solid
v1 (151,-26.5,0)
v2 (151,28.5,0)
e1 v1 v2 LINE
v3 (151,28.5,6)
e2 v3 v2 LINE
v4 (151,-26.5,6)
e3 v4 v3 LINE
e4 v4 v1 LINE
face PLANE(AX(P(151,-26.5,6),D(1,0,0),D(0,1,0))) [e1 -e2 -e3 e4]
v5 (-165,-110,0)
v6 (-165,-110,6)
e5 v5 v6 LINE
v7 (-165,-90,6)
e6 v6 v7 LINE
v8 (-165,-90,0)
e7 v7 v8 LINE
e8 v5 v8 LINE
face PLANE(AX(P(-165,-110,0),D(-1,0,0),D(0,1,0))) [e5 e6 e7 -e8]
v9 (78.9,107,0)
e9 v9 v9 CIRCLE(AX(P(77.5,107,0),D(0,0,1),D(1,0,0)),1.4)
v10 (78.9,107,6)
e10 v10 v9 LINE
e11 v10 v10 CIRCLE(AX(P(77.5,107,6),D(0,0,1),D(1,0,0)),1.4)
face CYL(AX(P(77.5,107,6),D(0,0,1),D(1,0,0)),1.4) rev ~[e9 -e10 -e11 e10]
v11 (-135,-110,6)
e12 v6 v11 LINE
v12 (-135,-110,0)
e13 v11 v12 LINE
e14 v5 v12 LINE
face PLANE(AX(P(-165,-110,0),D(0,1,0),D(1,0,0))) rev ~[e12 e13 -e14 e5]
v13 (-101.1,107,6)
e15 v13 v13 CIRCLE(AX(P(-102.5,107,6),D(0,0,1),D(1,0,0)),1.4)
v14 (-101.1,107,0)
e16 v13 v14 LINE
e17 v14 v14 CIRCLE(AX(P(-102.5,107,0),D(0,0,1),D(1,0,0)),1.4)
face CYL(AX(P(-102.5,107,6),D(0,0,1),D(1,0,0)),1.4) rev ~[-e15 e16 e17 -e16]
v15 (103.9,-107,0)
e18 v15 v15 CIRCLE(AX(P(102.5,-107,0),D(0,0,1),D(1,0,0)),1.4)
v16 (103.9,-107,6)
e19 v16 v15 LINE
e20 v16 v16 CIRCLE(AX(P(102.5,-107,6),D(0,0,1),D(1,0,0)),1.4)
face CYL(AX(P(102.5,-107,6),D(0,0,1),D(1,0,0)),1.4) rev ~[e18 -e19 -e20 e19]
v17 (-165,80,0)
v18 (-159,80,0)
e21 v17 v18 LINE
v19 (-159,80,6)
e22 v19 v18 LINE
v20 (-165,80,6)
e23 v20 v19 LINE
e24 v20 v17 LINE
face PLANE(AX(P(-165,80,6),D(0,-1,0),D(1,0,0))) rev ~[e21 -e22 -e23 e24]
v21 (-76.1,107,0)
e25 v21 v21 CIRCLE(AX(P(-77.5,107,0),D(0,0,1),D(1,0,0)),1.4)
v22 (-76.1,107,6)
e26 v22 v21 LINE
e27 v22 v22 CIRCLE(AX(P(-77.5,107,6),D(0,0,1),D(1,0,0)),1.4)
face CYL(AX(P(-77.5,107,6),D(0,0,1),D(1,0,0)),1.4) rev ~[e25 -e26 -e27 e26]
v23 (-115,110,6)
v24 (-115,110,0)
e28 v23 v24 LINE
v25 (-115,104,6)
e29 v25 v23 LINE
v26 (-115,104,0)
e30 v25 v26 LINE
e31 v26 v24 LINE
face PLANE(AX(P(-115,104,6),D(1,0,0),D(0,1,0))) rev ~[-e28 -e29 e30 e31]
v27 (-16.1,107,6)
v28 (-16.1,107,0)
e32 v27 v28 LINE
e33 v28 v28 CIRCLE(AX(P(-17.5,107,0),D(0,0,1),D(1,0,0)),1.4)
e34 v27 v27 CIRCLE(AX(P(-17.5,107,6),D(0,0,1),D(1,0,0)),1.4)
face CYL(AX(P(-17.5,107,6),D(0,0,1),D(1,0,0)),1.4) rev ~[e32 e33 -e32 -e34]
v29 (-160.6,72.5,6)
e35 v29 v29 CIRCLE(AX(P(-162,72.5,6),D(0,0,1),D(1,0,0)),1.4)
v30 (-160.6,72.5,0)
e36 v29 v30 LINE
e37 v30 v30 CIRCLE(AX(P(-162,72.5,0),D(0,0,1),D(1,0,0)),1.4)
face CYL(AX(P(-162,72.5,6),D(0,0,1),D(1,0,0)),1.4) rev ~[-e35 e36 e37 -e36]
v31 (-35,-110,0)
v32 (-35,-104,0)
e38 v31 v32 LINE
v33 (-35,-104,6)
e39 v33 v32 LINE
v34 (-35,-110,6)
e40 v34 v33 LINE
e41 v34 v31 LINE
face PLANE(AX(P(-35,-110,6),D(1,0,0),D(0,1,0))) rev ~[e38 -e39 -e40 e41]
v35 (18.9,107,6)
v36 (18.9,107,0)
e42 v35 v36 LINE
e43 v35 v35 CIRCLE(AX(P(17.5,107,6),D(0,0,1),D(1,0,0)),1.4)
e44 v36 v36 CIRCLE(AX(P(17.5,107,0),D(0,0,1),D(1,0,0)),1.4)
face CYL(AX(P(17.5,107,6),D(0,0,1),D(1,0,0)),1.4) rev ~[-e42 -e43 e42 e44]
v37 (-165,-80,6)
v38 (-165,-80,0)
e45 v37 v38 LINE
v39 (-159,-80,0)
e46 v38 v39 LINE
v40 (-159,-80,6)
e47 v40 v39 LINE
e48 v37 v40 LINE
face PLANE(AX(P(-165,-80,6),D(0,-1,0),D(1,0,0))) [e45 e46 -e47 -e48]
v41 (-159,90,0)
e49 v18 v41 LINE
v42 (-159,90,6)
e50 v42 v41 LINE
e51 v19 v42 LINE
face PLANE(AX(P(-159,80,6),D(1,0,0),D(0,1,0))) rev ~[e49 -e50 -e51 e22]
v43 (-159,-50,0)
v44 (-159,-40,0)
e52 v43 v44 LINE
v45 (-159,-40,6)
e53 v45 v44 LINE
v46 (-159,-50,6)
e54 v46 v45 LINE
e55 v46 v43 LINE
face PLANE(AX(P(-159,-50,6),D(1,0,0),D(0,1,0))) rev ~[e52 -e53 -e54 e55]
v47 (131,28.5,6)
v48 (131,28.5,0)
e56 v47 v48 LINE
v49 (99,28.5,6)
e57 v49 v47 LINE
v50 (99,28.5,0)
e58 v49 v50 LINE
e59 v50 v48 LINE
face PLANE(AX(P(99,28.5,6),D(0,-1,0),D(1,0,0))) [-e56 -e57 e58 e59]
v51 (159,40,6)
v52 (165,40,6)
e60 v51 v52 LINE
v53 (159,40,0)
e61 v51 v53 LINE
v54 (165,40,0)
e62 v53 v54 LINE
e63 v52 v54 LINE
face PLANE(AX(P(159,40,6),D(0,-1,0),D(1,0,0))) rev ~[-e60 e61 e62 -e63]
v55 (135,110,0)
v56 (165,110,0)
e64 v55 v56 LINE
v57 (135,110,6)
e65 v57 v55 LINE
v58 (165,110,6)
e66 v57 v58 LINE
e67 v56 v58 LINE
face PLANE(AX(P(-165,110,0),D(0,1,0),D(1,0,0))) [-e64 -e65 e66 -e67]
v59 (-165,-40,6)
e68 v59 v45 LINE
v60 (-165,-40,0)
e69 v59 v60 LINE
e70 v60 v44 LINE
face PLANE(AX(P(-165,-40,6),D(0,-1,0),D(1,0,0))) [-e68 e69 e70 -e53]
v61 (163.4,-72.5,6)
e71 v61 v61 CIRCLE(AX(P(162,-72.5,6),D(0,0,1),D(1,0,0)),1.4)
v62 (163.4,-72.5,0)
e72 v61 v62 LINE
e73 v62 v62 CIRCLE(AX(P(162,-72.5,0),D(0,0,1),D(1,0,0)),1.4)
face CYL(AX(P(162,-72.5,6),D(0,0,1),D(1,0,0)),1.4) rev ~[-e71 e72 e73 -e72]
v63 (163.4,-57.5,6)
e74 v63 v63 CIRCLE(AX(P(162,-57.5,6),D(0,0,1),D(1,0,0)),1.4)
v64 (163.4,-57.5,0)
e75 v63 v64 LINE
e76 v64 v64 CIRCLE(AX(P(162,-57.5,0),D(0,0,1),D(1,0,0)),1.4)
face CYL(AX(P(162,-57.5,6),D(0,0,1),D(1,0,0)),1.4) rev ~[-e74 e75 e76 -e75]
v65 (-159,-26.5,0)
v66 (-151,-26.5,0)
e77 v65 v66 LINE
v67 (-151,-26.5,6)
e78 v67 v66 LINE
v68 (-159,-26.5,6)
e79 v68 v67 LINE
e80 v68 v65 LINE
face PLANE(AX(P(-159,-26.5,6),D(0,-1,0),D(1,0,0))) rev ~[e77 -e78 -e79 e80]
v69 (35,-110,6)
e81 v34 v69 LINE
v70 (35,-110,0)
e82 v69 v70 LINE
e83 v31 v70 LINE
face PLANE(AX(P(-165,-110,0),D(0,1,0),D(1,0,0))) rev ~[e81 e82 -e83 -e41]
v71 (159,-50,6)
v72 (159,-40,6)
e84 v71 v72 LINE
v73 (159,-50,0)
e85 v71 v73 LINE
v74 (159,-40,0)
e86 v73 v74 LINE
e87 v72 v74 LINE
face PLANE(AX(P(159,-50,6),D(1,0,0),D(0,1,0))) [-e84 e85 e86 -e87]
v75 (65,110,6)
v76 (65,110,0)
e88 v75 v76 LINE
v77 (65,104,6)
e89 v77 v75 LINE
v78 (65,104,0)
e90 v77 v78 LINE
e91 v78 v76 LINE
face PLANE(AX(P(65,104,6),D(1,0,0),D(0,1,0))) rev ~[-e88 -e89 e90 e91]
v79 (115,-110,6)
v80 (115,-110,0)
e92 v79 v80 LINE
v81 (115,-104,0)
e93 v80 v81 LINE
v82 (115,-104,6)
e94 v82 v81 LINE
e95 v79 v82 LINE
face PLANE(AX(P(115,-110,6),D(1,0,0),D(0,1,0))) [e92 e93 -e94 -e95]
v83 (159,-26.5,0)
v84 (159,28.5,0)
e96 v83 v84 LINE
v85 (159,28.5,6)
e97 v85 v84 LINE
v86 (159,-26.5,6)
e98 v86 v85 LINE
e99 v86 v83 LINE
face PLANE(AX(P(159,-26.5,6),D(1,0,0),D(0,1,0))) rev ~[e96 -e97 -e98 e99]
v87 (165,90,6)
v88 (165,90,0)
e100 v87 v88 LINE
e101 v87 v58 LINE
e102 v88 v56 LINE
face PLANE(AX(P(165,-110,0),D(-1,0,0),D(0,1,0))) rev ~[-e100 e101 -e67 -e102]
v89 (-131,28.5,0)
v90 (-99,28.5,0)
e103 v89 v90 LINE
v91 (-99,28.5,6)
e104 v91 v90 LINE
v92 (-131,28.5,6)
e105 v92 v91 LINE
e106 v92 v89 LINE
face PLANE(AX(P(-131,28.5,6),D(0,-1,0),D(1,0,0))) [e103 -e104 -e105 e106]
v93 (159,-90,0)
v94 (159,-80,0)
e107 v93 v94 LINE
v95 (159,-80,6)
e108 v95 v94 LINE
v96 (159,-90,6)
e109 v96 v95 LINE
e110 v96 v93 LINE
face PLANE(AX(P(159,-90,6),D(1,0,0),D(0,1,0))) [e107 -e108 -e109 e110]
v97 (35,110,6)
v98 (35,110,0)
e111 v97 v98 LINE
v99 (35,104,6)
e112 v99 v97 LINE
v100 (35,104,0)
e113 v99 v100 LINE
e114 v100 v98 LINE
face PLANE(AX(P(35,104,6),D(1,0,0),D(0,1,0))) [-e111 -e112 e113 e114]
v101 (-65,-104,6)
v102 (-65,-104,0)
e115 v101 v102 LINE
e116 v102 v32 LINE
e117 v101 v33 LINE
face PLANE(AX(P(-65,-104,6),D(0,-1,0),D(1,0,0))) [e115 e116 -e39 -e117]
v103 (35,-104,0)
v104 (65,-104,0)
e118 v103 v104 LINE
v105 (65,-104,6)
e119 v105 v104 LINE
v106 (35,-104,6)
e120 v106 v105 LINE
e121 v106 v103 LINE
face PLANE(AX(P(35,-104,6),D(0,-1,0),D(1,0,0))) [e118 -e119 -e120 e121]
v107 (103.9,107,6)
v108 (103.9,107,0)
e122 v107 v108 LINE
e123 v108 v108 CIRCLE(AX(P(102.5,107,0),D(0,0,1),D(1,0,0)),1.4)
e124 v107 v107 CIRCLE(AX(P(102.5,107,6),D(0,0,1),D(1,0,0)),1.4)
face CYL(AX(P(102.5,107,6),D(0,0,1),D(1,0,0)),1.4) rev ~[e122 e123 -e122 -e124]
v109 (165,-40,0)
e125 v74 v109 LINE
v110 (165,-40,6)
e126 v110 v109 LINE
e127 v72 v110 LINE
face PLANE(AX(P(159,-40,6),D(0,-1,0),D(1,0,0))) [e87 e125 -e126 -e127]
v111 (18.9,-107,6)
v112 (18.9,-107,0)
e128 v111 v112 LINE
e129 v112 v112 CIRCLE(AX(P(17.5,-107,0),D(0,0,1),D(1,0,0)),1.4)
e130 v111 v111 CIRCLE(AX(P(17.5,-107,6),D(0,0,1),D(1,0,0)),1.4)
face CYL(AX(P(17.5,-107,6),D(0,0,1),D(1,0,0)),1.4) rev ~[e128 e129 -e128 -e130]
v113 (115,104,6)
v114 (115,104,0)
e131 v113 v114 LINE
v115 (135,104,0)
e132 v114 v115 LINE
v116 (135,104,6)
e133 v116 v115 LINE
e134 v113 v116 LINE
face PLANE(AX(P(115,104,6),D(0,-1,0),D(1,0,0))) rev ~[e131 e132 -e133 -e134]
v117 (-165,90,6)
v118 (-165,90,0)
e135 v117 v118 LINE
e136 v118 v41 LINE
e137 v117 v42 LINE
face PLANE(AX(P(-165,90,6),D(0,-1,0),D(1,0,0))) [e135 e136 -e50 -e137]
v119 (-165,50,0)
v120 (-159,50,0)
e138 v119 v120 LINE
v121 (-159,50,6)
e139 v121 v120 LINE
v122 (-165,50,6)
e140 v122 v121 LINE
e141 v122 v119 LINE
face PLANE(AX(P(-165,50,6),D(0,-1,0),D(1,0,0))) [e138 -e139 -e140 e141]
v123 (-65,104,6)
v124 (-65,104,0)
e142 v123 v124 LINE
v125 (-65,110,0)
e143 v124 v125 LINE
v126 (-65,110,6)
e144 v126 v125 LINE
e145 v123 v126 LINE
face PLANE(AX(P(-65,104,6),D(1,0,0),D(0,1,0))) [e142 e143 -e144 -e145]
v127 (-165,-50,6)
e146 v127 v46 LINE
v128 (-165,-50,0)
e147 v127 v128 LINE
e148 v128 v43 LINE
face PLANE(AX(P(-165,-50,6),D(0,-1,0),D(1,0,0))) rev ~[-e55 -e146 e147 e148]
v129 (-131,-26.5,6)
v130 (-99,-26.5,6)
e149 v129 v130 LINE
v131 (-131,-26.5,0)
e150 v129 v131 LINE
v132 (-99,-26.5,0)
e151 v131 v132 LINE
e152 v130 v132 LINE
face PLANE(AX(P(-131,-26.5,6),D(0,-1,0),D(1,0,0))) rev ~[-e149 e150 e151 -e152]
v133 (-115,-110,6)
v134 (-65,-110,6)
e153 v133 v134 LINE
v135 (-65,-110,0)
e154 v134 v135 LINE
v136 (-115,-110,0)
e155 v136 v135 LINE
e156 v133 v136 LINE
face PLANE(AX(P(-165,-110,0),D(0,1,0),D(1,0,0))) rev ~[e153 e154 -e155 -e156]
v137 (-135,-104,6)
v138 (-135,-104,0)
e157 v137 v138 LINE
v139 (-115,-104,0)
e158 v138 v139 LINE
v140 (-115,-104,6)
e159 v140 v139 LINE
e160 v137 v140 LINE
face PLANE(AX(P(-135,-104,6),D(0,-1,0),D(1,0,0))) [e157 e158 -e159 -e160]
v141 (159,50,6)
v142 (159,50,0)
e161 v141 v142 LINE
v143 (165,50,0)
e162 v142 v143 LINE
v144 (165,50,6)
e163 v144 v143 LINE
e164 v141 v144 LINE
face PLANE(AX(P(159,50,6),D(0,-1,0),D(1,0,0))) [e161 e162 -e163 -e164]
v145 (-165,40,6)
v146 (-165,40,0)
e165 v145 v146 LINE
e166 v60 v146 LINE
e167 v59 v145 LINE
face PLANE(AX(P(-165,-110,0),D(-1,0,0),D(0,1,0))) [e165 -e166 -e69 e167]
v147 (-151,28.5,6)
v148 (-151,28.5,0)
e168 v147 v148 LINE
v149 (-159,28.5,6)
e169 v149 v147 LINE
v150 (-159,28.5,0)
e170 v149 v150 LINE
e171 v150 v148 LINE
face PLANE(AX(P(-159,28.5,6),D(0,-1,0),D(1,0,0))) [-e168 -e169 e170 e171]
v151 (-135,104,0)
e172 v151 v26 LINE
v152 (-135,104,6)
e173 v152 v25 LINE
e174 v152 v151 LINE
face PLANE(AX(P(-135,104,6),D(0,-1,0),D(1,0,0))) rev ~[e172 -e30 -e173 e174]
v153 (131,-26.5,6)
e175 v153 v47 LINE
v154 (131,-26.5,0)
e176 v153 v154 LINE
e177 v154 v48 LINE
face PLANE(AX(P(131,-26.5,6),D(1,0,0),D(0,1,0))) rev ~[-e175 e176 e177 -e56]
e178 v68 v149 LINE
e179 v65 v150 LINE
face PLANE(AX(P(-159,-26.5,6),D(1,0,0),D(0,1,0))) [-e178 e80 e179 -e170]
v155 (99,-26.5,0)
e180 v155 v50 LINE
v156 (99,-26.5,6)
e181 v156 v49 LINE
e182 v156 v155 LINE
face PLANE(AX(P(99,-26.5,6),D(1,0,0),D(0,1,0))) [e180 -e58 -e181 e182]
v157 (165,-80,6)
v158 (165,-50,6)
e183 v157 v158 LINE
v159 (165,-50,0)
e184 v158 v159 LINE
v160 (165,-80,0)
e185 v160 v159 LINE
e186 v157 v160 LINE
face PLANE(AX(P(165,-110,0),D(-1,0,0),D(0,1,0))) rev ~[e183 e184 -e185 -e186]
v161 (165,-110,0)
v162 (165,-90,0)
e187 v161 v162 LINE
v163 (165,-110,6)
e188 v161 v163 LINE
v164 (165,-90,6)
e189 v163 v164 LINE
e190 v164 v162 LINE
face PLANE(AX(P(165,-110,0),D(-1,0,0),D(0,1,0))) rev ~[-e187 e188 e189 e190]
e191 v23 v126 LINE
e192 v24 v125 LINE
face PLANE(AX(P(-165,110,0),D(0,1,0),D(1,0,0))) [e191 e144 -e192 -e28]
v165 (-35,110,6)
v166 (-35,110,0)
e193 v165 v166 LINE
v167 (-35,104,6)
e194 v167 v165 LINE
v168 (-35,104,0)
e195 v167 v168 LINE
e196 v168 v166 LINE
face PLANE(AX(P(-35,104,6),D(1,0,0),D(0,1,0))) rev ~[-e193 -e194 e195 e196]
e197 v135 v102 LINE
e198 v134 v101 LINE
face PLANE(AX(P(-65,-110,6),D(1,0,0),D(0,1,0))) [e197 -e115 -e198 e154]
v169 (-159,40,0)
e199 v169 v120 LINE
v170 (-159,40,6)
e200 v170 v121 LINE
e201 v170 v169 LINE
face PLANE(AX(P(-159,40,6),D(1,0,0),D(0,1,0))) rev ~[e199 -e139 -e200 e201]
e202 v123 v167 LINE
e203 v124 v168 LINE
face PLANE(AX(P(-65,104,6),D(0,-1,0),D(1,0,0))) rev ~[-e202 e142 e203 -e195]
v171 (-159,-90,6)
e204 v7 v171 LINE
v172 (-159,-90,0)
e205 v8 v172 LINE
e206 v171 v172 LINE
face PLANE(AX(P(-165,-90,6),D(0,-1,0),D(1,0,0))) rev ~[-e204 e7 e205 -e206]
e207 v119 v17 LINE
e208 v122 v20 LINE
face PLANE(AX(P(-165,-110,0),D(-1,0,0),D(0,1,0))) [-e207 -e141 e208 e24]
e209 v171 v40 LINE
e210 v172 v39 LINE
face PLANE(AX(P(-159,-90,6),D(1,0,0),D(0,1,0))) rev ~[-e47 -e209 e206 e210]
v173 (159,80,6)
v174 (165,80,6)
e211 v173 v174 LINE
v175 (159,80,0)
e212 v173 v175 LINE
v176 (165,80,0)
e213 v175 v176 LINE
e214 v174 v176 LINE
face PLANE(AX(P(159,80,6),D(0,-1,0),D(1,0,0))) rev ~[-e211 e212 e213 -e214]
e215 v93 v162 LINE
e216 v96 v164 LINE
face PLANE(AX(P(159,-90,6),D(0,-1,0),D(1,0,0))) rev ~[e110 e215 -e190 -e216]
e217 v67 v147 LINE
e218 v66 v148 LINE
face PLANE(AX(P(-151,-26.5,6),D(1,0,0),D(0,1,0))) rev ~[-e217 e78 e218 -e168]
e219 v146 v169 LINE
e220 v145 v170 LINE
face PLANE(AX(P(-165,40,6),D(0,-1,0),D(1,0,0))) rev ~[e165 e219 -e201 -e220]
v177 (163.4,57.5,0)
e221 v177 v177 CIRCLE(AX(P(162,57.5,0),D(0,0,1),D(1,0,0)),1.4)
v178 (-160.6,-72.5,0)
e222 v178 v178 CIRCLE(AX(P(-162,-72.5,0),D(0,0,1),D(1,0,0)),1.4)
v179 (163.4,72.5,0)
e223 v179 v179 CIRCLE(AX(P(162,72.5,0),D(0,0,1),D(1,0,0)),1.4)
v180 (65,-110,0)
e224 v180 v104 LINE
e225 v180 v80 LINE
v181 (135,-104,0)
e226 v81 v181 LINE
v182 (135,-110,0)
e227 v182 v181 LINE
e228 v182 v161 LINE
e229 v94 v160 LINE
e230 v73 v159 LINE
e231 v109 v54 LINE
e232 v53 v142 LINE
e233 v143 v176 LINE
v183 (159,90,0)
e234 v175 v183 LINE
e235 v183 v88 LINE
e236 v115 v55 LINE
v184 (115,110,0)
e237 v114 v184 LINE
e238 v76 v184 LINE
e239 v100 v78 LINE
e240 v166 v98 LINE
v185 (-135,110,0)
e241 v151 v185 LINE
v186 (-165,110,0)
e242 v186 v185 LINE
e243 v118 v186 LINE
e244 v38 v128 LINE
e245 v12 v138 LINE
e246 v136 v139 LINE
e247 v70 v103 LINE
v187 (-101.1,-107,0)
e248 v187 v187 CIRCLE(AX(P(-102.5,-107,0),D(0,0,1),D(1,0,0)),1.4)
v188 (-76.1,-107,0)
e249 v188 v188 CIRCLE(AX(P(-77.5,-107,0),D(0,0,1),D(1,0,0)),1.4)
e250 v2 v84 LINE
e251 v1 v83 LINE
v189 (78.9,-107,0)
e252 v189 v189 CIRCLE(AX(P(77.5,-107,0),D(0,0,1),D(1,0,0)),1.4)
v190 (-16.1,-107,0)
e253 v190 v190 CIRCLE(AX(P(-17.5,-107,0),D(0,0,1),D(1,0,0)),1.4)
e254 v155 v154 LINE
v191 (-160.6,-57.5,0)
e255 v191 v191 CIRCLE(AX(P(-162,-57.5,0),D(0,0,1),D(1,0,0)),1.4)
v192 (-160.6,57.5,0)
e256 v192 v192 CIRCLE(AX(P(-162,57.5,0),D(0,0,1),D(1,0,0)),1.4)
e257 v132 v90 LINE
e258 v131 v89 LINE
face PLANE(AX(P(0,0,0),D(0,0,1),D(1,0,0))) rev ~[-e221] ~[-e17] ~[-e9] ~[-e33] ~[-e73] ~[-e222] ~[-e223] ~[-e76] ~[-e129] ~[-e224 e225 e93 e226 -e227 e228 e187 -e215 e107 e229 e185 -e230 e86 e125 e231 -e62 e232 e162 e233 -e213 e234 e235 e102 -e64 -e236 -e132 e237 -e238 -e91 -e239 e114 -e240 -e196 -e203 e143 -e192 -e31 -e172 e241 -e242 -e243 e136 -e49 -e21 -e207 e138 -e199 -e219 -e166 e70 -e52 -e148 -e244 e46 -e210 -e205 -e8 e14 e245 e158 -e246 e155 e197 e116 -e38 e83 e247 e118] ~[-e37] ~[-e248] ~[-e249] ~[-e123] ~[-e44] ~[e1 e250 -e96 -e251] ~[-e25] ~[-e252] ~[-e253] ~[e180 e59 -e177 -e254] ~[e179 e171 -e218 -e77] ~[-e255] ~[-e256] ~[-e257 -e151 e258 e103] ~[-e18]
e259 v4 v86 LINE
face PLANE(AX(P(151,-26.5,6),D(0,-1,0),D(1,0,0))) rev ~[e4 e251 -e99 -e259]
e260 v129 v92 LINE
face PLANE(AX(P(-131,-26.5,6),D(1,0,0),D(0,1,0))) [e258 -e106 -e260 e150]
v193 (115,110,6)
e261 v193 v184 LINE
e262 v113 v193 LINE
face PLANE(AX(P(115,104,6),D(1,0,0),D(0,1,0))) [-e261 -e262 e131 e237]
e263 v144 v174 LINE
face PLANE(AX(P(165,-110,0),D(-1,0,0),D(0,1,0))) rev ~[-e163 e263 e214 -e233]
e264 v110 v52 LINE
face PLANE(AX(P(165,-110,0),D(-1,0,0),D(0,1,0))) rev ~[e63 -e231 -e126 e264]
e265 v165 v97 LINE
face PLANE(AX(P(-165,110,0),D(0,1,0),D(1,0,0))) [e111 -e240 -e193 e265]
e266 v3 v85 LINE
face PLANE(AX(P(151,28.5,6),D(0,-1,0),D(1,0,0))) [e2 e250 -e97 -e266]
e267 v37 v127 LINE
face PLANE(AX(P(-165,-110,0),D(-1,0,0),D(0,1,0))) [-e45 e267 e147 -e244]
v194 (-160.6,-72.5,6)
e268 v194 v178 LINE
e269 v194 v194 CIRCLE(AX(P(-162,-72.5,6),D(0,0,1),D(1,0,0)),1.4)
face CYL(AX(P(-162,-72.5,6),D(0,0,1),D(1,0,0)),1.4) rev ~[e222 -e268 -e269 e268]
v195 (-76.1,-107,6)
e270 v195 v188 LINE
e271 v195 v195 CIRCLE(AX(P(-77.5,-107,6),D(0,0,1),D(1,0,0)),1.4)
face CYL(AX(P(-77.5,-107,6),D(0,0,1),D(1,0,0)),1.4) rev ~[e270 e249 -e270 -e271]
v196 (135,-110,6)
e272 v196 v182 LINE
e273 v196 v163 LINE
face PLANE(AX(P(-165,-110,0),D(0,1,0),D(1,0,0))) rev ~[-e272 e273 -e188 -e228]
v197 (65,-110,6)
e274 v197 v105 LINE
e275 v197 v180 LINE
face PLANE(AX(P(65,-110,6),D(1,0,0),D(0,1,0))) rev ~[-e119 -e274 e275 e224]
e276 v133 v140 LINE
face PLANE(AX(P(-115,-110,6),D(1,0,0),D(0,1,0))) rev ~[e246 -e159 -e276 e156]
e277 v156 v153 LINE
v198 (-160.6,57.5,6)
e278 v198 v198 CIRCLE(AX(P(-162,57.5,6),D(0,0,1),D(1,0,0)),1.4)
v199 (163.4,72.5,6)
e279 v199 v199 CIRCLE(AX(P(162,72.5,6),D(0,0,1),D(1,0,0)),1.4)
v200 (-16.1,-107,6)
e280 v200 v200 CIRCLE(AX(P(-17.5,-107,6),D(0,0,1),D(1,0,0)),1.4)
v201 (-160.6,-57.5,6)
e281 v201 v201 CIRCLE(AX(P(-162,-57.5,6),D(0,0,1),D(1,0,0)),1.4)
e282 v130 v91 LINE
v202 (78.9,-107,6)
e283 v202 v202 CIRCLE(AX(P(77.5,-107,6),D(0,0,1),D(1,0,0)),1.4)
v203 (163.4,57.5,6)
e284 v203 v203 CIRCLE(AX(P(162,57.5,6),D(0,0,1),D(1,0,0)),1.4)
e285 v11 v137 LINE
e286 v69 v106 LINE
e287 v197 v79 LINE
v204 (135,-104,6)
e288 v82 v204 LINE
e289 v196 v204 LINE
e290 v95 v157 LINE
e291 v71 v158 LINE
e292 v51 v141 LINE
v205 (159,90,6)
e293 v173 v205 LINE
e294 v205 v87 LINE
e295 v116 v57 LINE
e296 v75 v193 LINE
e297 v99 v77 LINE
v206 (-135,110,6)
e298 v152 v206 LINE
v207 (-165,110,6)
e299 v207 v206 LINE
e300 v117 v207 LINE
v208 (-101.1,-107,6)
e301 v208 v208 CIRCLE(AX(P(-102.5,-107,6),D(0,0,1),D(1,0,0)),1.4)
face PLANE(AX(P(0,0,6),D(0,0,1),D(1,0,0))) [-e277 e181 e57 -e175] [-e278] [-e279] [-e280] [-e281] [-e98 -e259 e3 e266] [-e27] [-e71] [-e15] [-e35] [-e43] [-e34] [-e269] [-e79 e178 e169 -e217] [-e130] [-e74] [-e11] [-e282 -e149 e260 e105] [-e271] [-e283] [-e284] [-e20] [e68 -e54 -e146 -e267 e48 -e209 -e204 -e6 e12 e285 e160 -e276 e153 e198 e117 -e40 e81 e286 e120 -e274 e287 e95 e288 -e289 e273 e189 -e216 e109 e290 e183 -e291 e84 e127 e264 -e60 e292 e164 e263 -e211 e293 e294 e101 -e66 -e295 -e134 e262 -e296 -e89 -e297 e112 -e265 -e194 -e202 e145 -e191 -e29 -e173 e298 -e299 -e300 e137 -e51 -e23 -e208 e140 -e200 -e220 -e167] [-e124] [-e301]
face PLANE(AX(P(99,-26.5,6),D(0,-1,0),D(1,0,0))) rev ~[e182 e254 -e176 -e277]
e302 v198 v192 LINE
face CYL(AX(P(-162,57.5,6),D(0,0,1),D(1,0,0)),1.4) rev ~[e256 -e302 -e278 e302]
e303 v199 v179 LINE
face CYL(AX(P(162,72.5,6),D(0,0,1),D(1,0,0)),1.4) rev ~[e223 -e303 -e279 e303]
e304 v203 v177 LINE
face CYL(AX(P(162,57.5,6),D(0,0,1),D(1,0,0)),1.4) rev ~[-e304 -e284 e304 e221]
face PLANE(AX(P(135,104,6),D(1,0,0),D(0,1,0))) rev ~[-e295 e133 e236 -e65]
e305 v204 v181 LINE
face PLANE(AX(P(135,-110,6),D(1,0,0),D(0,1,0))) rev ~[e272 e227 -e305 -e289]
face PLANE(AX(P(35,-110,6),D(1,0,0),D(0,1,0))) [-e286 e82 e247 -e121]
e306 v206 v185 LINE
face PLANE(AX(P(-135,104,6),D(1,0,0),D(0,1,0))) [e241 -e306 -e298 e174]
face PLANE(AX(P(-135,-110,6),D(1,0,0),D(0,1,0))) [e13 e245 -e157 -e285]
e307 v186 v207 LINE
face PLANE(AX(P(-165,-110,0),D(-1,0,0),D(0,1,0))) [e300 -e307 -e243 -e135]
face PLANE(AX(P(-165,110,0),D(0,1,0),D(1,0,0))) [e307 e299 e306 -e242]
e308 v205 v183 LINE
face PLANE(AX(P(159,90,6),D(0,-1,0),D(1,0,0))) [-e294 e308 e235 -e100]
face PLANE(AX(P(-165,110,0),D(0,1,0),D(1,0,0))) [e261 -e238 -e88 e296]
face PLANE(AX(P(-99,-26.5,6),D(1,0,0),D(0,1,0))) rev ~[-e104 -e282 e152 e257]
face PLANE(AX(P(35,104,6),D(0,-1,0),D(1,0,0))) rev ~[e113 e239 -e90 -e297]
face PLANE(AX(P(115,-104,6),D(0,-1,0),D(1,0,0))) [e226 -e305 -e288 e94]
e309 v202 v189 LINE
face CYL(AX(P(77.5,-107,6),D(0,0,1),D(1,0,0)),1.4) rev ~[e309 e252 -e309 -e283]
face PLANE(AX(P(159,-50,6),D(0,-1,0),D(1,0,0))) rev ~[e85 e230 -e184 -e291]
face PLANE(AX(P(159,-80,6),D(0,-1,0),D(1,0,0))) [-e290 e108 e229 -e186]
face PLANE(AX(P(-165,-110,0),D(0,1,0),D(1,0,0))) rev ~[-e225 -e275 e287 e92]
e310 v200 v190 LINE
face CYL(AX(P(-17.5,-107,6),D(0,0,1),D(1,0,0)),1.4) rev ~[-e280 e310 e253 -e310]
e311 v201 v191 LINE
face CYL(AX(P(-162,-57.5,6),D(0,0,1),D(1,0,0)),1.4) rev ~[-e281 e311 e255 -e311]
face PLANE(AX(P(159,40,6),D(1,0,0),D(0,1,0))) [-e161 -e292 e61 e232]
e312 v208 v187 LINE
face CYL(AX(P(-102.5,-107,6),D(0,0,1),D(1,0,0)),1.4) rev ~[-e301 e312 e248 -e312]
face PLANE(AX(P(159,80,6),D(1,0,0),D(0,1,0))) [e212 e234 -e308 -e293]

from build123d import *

# Parameters (mm, degrees)
ESQUISSE1_W             = 330
ESQUISSE1_H             = 220
BOSS_EXTRU_1_DEPTH      = 6
ESQUISSE2_W             = 8
ESQUISSE2_H             = 55
ESQUISSE2_W_2           = 32
ENL_V_MAT_EXTRU_1_DEPTH = 6
ESQUISSE3_W             = 20
ESQUISSE3_H             = 6
ESQUISSE3_W_2           = 30
ESQUISSE3_W_3           = 6
ESQUISSE3_H_2           = 10
ENL_V_MAT_EXTRU_2_DEPTH = 6
ESQUISSE4_R             = 1.4
ENL_V_MAT_EXTRU_3_DEPTH = 6


with BuildPart() as part:
    # Esquisse1 → Boss.-Extru.1 (new body)
    with BuildSketch(Plane.XY):
        Rectangle(ESQUISSE1_W, ESQUISSE1_H)
    extrude(amount=BOSS_EXTRU_1_DEPTH)

    # Esquisse2 → Enlèv. mat.-Extru.1 (cut)
    with BuildSketch(Plane.XY.offset(6)):
        with Locations((-155, 1)):
            Rectangle(ESQUISSE2_W, ESQUISSE2_H)
        with Locations((-115, 1)):
            Rectangle(ESQUISSE2_W_2, ESQUISSE2_H)
        with Locations((115, 1)):
            Rectangle(ESQUISSE2_W_2, ESQUISSE2_H)
        with Locations((155, 1)):
            Rectangle(ESQUISSE2_W, ESQUISSE2_H)
    extrude(amount=-ENL_V_MAT_EXTRU_1_DEPTH, mode=Mode.SUBTRACT)

    # Esquisse3 → Enlèv. mat.-Extru.2 (cut)
    with BuildSketch(Plane.XY.offset(6)):
        with Locations((-125, 107)):
            Rectangle(ESQUISSE3_W, ESQUISSE3_H)
        with Locations((-50, 107)):
            Rectangle(ESQUISSE3_W_2, ESQUISSE3_H)
        with Locations((-162, 45)):
            Rectangle(ESQUISSE3_W_3, ESQUISSE3_H_2)
        with Locations((50, 107)):
            Rectangle(ESQUISSE3_W_2, ESQUISSE3_H)
        with Locations((-162, 85)):
            Rectangle(ESQUISSE3_W_3, ESQUISSE3_H_2)
        with Locations((162, 85)):
            Rectangle(ESQUISSE3_W_3, ESQUISSE3_H_2)
        with Locations((162, 45)):
            Rectangle(ESQUISSE3_W_3, ESQUISSE3_H_2)
        with Locations((125, 107)):
            Rectangle(ESQUISSE3_W, ESQUISSE3_H)
        with Locations((125, -107)):
            Rectangle(ESQUISSE3_W, ESQUISSE3_H)
        with Locations((50, -107)):
            Rectangle(ESQUISSE3_W_2, ESQUISSE3_H)
        with Locations((162, -45)):
            Rectangle(ESQUISSE3_W_3, ESQUISSE3_H_2)
        with Locations((162, -85)):
            Rectangle(ESQUISSE3_W_3, ESQUISSE3_H_2)
        with Locations((-162, -85)):
            Rectangle(ESQUISSE3_W_3, ESQUISSE3_H_2)
        with Locations((-162, -45)):
            Rectangle(ESQUISSE3_W_3, ESQUISSE3_H_2)
        with Locations((-50, -107)):
            Rectangle(ESQUISSE3_W_2, ESQUISSE3_H)
        with Locations((-125, -107)):
            Rectangle(ESQUISSE3_W, ESQUISSE3_H)
    extrude(amount=-ENL_V_MAT_EXTRU_2_DEPTH, mode=Mode.SUBTRACT)

    # Esquisse4 → Enlèv. mat.-Extru.3 (cut)
    with BuildSketch(Plane.XY.offset(6)):
        with Locations((-102.5, 107)):
            Circle(ESQUISSE4_R)
        with Locations((-77.5, 107)):
            Circle(ESQUISSE4_R)
        with Locations((-17.5, 107)):
            Circle(ESQUISSE4_R)
        with Locations((-162, 72.5)):
            Circle(ESQUISSE4_R)
        with Locations((-162, 57.5)):
            Circle(ESQUISSE4_R)
        with Locations((162, 57.5)):
            Circle(ESQUISSE4_R)
        with Locations((162, 72.5)):
            Circle(ESQUISSE4_R)
        with Locations((17.5, 107)):
            Circle(ESQUISSE4_R)
        with Locations((77.5, 107)):
            Circle(ESQUISSE4_R)
        with Locations((102.5, 107)):
            Circle(ESQUISSE4_R)
        with Locations((102.5, -107)):
            Circle(ESQUISSE4_R)
        with Locations((77.5, -107)):
            Circle(ESQUISSE4_R)
        with Locations((17.5, -107)):
            Circle(ESQUISSE4_R)
        with Locations((162, -72.5)):
            Circle(ESQUISSE4_R)
        with Locations((162, -57.5)):
            Circle(ESQUISSE4_R)
        with Locations((-162, -57.5)):
            Circle(ESQUISSE4_R)
        with Locations((-162, -72.5)):
            Circle(ESQUISSE4_R)
        with Locations((-17.5, -107)):
            Circle(ESQUISSE4_R)
        with Locations((-77.5, -107)):
            Circle(ESQUISSE4_R)
        with Locations((-102.5, -107)):
            Circle(ESQUISSE4_R)
    extrude(amount=-ENL_V_MAT_EXTRU_3_DEPTH, mode=Mode.SUBTRACT)


solid = part.part
